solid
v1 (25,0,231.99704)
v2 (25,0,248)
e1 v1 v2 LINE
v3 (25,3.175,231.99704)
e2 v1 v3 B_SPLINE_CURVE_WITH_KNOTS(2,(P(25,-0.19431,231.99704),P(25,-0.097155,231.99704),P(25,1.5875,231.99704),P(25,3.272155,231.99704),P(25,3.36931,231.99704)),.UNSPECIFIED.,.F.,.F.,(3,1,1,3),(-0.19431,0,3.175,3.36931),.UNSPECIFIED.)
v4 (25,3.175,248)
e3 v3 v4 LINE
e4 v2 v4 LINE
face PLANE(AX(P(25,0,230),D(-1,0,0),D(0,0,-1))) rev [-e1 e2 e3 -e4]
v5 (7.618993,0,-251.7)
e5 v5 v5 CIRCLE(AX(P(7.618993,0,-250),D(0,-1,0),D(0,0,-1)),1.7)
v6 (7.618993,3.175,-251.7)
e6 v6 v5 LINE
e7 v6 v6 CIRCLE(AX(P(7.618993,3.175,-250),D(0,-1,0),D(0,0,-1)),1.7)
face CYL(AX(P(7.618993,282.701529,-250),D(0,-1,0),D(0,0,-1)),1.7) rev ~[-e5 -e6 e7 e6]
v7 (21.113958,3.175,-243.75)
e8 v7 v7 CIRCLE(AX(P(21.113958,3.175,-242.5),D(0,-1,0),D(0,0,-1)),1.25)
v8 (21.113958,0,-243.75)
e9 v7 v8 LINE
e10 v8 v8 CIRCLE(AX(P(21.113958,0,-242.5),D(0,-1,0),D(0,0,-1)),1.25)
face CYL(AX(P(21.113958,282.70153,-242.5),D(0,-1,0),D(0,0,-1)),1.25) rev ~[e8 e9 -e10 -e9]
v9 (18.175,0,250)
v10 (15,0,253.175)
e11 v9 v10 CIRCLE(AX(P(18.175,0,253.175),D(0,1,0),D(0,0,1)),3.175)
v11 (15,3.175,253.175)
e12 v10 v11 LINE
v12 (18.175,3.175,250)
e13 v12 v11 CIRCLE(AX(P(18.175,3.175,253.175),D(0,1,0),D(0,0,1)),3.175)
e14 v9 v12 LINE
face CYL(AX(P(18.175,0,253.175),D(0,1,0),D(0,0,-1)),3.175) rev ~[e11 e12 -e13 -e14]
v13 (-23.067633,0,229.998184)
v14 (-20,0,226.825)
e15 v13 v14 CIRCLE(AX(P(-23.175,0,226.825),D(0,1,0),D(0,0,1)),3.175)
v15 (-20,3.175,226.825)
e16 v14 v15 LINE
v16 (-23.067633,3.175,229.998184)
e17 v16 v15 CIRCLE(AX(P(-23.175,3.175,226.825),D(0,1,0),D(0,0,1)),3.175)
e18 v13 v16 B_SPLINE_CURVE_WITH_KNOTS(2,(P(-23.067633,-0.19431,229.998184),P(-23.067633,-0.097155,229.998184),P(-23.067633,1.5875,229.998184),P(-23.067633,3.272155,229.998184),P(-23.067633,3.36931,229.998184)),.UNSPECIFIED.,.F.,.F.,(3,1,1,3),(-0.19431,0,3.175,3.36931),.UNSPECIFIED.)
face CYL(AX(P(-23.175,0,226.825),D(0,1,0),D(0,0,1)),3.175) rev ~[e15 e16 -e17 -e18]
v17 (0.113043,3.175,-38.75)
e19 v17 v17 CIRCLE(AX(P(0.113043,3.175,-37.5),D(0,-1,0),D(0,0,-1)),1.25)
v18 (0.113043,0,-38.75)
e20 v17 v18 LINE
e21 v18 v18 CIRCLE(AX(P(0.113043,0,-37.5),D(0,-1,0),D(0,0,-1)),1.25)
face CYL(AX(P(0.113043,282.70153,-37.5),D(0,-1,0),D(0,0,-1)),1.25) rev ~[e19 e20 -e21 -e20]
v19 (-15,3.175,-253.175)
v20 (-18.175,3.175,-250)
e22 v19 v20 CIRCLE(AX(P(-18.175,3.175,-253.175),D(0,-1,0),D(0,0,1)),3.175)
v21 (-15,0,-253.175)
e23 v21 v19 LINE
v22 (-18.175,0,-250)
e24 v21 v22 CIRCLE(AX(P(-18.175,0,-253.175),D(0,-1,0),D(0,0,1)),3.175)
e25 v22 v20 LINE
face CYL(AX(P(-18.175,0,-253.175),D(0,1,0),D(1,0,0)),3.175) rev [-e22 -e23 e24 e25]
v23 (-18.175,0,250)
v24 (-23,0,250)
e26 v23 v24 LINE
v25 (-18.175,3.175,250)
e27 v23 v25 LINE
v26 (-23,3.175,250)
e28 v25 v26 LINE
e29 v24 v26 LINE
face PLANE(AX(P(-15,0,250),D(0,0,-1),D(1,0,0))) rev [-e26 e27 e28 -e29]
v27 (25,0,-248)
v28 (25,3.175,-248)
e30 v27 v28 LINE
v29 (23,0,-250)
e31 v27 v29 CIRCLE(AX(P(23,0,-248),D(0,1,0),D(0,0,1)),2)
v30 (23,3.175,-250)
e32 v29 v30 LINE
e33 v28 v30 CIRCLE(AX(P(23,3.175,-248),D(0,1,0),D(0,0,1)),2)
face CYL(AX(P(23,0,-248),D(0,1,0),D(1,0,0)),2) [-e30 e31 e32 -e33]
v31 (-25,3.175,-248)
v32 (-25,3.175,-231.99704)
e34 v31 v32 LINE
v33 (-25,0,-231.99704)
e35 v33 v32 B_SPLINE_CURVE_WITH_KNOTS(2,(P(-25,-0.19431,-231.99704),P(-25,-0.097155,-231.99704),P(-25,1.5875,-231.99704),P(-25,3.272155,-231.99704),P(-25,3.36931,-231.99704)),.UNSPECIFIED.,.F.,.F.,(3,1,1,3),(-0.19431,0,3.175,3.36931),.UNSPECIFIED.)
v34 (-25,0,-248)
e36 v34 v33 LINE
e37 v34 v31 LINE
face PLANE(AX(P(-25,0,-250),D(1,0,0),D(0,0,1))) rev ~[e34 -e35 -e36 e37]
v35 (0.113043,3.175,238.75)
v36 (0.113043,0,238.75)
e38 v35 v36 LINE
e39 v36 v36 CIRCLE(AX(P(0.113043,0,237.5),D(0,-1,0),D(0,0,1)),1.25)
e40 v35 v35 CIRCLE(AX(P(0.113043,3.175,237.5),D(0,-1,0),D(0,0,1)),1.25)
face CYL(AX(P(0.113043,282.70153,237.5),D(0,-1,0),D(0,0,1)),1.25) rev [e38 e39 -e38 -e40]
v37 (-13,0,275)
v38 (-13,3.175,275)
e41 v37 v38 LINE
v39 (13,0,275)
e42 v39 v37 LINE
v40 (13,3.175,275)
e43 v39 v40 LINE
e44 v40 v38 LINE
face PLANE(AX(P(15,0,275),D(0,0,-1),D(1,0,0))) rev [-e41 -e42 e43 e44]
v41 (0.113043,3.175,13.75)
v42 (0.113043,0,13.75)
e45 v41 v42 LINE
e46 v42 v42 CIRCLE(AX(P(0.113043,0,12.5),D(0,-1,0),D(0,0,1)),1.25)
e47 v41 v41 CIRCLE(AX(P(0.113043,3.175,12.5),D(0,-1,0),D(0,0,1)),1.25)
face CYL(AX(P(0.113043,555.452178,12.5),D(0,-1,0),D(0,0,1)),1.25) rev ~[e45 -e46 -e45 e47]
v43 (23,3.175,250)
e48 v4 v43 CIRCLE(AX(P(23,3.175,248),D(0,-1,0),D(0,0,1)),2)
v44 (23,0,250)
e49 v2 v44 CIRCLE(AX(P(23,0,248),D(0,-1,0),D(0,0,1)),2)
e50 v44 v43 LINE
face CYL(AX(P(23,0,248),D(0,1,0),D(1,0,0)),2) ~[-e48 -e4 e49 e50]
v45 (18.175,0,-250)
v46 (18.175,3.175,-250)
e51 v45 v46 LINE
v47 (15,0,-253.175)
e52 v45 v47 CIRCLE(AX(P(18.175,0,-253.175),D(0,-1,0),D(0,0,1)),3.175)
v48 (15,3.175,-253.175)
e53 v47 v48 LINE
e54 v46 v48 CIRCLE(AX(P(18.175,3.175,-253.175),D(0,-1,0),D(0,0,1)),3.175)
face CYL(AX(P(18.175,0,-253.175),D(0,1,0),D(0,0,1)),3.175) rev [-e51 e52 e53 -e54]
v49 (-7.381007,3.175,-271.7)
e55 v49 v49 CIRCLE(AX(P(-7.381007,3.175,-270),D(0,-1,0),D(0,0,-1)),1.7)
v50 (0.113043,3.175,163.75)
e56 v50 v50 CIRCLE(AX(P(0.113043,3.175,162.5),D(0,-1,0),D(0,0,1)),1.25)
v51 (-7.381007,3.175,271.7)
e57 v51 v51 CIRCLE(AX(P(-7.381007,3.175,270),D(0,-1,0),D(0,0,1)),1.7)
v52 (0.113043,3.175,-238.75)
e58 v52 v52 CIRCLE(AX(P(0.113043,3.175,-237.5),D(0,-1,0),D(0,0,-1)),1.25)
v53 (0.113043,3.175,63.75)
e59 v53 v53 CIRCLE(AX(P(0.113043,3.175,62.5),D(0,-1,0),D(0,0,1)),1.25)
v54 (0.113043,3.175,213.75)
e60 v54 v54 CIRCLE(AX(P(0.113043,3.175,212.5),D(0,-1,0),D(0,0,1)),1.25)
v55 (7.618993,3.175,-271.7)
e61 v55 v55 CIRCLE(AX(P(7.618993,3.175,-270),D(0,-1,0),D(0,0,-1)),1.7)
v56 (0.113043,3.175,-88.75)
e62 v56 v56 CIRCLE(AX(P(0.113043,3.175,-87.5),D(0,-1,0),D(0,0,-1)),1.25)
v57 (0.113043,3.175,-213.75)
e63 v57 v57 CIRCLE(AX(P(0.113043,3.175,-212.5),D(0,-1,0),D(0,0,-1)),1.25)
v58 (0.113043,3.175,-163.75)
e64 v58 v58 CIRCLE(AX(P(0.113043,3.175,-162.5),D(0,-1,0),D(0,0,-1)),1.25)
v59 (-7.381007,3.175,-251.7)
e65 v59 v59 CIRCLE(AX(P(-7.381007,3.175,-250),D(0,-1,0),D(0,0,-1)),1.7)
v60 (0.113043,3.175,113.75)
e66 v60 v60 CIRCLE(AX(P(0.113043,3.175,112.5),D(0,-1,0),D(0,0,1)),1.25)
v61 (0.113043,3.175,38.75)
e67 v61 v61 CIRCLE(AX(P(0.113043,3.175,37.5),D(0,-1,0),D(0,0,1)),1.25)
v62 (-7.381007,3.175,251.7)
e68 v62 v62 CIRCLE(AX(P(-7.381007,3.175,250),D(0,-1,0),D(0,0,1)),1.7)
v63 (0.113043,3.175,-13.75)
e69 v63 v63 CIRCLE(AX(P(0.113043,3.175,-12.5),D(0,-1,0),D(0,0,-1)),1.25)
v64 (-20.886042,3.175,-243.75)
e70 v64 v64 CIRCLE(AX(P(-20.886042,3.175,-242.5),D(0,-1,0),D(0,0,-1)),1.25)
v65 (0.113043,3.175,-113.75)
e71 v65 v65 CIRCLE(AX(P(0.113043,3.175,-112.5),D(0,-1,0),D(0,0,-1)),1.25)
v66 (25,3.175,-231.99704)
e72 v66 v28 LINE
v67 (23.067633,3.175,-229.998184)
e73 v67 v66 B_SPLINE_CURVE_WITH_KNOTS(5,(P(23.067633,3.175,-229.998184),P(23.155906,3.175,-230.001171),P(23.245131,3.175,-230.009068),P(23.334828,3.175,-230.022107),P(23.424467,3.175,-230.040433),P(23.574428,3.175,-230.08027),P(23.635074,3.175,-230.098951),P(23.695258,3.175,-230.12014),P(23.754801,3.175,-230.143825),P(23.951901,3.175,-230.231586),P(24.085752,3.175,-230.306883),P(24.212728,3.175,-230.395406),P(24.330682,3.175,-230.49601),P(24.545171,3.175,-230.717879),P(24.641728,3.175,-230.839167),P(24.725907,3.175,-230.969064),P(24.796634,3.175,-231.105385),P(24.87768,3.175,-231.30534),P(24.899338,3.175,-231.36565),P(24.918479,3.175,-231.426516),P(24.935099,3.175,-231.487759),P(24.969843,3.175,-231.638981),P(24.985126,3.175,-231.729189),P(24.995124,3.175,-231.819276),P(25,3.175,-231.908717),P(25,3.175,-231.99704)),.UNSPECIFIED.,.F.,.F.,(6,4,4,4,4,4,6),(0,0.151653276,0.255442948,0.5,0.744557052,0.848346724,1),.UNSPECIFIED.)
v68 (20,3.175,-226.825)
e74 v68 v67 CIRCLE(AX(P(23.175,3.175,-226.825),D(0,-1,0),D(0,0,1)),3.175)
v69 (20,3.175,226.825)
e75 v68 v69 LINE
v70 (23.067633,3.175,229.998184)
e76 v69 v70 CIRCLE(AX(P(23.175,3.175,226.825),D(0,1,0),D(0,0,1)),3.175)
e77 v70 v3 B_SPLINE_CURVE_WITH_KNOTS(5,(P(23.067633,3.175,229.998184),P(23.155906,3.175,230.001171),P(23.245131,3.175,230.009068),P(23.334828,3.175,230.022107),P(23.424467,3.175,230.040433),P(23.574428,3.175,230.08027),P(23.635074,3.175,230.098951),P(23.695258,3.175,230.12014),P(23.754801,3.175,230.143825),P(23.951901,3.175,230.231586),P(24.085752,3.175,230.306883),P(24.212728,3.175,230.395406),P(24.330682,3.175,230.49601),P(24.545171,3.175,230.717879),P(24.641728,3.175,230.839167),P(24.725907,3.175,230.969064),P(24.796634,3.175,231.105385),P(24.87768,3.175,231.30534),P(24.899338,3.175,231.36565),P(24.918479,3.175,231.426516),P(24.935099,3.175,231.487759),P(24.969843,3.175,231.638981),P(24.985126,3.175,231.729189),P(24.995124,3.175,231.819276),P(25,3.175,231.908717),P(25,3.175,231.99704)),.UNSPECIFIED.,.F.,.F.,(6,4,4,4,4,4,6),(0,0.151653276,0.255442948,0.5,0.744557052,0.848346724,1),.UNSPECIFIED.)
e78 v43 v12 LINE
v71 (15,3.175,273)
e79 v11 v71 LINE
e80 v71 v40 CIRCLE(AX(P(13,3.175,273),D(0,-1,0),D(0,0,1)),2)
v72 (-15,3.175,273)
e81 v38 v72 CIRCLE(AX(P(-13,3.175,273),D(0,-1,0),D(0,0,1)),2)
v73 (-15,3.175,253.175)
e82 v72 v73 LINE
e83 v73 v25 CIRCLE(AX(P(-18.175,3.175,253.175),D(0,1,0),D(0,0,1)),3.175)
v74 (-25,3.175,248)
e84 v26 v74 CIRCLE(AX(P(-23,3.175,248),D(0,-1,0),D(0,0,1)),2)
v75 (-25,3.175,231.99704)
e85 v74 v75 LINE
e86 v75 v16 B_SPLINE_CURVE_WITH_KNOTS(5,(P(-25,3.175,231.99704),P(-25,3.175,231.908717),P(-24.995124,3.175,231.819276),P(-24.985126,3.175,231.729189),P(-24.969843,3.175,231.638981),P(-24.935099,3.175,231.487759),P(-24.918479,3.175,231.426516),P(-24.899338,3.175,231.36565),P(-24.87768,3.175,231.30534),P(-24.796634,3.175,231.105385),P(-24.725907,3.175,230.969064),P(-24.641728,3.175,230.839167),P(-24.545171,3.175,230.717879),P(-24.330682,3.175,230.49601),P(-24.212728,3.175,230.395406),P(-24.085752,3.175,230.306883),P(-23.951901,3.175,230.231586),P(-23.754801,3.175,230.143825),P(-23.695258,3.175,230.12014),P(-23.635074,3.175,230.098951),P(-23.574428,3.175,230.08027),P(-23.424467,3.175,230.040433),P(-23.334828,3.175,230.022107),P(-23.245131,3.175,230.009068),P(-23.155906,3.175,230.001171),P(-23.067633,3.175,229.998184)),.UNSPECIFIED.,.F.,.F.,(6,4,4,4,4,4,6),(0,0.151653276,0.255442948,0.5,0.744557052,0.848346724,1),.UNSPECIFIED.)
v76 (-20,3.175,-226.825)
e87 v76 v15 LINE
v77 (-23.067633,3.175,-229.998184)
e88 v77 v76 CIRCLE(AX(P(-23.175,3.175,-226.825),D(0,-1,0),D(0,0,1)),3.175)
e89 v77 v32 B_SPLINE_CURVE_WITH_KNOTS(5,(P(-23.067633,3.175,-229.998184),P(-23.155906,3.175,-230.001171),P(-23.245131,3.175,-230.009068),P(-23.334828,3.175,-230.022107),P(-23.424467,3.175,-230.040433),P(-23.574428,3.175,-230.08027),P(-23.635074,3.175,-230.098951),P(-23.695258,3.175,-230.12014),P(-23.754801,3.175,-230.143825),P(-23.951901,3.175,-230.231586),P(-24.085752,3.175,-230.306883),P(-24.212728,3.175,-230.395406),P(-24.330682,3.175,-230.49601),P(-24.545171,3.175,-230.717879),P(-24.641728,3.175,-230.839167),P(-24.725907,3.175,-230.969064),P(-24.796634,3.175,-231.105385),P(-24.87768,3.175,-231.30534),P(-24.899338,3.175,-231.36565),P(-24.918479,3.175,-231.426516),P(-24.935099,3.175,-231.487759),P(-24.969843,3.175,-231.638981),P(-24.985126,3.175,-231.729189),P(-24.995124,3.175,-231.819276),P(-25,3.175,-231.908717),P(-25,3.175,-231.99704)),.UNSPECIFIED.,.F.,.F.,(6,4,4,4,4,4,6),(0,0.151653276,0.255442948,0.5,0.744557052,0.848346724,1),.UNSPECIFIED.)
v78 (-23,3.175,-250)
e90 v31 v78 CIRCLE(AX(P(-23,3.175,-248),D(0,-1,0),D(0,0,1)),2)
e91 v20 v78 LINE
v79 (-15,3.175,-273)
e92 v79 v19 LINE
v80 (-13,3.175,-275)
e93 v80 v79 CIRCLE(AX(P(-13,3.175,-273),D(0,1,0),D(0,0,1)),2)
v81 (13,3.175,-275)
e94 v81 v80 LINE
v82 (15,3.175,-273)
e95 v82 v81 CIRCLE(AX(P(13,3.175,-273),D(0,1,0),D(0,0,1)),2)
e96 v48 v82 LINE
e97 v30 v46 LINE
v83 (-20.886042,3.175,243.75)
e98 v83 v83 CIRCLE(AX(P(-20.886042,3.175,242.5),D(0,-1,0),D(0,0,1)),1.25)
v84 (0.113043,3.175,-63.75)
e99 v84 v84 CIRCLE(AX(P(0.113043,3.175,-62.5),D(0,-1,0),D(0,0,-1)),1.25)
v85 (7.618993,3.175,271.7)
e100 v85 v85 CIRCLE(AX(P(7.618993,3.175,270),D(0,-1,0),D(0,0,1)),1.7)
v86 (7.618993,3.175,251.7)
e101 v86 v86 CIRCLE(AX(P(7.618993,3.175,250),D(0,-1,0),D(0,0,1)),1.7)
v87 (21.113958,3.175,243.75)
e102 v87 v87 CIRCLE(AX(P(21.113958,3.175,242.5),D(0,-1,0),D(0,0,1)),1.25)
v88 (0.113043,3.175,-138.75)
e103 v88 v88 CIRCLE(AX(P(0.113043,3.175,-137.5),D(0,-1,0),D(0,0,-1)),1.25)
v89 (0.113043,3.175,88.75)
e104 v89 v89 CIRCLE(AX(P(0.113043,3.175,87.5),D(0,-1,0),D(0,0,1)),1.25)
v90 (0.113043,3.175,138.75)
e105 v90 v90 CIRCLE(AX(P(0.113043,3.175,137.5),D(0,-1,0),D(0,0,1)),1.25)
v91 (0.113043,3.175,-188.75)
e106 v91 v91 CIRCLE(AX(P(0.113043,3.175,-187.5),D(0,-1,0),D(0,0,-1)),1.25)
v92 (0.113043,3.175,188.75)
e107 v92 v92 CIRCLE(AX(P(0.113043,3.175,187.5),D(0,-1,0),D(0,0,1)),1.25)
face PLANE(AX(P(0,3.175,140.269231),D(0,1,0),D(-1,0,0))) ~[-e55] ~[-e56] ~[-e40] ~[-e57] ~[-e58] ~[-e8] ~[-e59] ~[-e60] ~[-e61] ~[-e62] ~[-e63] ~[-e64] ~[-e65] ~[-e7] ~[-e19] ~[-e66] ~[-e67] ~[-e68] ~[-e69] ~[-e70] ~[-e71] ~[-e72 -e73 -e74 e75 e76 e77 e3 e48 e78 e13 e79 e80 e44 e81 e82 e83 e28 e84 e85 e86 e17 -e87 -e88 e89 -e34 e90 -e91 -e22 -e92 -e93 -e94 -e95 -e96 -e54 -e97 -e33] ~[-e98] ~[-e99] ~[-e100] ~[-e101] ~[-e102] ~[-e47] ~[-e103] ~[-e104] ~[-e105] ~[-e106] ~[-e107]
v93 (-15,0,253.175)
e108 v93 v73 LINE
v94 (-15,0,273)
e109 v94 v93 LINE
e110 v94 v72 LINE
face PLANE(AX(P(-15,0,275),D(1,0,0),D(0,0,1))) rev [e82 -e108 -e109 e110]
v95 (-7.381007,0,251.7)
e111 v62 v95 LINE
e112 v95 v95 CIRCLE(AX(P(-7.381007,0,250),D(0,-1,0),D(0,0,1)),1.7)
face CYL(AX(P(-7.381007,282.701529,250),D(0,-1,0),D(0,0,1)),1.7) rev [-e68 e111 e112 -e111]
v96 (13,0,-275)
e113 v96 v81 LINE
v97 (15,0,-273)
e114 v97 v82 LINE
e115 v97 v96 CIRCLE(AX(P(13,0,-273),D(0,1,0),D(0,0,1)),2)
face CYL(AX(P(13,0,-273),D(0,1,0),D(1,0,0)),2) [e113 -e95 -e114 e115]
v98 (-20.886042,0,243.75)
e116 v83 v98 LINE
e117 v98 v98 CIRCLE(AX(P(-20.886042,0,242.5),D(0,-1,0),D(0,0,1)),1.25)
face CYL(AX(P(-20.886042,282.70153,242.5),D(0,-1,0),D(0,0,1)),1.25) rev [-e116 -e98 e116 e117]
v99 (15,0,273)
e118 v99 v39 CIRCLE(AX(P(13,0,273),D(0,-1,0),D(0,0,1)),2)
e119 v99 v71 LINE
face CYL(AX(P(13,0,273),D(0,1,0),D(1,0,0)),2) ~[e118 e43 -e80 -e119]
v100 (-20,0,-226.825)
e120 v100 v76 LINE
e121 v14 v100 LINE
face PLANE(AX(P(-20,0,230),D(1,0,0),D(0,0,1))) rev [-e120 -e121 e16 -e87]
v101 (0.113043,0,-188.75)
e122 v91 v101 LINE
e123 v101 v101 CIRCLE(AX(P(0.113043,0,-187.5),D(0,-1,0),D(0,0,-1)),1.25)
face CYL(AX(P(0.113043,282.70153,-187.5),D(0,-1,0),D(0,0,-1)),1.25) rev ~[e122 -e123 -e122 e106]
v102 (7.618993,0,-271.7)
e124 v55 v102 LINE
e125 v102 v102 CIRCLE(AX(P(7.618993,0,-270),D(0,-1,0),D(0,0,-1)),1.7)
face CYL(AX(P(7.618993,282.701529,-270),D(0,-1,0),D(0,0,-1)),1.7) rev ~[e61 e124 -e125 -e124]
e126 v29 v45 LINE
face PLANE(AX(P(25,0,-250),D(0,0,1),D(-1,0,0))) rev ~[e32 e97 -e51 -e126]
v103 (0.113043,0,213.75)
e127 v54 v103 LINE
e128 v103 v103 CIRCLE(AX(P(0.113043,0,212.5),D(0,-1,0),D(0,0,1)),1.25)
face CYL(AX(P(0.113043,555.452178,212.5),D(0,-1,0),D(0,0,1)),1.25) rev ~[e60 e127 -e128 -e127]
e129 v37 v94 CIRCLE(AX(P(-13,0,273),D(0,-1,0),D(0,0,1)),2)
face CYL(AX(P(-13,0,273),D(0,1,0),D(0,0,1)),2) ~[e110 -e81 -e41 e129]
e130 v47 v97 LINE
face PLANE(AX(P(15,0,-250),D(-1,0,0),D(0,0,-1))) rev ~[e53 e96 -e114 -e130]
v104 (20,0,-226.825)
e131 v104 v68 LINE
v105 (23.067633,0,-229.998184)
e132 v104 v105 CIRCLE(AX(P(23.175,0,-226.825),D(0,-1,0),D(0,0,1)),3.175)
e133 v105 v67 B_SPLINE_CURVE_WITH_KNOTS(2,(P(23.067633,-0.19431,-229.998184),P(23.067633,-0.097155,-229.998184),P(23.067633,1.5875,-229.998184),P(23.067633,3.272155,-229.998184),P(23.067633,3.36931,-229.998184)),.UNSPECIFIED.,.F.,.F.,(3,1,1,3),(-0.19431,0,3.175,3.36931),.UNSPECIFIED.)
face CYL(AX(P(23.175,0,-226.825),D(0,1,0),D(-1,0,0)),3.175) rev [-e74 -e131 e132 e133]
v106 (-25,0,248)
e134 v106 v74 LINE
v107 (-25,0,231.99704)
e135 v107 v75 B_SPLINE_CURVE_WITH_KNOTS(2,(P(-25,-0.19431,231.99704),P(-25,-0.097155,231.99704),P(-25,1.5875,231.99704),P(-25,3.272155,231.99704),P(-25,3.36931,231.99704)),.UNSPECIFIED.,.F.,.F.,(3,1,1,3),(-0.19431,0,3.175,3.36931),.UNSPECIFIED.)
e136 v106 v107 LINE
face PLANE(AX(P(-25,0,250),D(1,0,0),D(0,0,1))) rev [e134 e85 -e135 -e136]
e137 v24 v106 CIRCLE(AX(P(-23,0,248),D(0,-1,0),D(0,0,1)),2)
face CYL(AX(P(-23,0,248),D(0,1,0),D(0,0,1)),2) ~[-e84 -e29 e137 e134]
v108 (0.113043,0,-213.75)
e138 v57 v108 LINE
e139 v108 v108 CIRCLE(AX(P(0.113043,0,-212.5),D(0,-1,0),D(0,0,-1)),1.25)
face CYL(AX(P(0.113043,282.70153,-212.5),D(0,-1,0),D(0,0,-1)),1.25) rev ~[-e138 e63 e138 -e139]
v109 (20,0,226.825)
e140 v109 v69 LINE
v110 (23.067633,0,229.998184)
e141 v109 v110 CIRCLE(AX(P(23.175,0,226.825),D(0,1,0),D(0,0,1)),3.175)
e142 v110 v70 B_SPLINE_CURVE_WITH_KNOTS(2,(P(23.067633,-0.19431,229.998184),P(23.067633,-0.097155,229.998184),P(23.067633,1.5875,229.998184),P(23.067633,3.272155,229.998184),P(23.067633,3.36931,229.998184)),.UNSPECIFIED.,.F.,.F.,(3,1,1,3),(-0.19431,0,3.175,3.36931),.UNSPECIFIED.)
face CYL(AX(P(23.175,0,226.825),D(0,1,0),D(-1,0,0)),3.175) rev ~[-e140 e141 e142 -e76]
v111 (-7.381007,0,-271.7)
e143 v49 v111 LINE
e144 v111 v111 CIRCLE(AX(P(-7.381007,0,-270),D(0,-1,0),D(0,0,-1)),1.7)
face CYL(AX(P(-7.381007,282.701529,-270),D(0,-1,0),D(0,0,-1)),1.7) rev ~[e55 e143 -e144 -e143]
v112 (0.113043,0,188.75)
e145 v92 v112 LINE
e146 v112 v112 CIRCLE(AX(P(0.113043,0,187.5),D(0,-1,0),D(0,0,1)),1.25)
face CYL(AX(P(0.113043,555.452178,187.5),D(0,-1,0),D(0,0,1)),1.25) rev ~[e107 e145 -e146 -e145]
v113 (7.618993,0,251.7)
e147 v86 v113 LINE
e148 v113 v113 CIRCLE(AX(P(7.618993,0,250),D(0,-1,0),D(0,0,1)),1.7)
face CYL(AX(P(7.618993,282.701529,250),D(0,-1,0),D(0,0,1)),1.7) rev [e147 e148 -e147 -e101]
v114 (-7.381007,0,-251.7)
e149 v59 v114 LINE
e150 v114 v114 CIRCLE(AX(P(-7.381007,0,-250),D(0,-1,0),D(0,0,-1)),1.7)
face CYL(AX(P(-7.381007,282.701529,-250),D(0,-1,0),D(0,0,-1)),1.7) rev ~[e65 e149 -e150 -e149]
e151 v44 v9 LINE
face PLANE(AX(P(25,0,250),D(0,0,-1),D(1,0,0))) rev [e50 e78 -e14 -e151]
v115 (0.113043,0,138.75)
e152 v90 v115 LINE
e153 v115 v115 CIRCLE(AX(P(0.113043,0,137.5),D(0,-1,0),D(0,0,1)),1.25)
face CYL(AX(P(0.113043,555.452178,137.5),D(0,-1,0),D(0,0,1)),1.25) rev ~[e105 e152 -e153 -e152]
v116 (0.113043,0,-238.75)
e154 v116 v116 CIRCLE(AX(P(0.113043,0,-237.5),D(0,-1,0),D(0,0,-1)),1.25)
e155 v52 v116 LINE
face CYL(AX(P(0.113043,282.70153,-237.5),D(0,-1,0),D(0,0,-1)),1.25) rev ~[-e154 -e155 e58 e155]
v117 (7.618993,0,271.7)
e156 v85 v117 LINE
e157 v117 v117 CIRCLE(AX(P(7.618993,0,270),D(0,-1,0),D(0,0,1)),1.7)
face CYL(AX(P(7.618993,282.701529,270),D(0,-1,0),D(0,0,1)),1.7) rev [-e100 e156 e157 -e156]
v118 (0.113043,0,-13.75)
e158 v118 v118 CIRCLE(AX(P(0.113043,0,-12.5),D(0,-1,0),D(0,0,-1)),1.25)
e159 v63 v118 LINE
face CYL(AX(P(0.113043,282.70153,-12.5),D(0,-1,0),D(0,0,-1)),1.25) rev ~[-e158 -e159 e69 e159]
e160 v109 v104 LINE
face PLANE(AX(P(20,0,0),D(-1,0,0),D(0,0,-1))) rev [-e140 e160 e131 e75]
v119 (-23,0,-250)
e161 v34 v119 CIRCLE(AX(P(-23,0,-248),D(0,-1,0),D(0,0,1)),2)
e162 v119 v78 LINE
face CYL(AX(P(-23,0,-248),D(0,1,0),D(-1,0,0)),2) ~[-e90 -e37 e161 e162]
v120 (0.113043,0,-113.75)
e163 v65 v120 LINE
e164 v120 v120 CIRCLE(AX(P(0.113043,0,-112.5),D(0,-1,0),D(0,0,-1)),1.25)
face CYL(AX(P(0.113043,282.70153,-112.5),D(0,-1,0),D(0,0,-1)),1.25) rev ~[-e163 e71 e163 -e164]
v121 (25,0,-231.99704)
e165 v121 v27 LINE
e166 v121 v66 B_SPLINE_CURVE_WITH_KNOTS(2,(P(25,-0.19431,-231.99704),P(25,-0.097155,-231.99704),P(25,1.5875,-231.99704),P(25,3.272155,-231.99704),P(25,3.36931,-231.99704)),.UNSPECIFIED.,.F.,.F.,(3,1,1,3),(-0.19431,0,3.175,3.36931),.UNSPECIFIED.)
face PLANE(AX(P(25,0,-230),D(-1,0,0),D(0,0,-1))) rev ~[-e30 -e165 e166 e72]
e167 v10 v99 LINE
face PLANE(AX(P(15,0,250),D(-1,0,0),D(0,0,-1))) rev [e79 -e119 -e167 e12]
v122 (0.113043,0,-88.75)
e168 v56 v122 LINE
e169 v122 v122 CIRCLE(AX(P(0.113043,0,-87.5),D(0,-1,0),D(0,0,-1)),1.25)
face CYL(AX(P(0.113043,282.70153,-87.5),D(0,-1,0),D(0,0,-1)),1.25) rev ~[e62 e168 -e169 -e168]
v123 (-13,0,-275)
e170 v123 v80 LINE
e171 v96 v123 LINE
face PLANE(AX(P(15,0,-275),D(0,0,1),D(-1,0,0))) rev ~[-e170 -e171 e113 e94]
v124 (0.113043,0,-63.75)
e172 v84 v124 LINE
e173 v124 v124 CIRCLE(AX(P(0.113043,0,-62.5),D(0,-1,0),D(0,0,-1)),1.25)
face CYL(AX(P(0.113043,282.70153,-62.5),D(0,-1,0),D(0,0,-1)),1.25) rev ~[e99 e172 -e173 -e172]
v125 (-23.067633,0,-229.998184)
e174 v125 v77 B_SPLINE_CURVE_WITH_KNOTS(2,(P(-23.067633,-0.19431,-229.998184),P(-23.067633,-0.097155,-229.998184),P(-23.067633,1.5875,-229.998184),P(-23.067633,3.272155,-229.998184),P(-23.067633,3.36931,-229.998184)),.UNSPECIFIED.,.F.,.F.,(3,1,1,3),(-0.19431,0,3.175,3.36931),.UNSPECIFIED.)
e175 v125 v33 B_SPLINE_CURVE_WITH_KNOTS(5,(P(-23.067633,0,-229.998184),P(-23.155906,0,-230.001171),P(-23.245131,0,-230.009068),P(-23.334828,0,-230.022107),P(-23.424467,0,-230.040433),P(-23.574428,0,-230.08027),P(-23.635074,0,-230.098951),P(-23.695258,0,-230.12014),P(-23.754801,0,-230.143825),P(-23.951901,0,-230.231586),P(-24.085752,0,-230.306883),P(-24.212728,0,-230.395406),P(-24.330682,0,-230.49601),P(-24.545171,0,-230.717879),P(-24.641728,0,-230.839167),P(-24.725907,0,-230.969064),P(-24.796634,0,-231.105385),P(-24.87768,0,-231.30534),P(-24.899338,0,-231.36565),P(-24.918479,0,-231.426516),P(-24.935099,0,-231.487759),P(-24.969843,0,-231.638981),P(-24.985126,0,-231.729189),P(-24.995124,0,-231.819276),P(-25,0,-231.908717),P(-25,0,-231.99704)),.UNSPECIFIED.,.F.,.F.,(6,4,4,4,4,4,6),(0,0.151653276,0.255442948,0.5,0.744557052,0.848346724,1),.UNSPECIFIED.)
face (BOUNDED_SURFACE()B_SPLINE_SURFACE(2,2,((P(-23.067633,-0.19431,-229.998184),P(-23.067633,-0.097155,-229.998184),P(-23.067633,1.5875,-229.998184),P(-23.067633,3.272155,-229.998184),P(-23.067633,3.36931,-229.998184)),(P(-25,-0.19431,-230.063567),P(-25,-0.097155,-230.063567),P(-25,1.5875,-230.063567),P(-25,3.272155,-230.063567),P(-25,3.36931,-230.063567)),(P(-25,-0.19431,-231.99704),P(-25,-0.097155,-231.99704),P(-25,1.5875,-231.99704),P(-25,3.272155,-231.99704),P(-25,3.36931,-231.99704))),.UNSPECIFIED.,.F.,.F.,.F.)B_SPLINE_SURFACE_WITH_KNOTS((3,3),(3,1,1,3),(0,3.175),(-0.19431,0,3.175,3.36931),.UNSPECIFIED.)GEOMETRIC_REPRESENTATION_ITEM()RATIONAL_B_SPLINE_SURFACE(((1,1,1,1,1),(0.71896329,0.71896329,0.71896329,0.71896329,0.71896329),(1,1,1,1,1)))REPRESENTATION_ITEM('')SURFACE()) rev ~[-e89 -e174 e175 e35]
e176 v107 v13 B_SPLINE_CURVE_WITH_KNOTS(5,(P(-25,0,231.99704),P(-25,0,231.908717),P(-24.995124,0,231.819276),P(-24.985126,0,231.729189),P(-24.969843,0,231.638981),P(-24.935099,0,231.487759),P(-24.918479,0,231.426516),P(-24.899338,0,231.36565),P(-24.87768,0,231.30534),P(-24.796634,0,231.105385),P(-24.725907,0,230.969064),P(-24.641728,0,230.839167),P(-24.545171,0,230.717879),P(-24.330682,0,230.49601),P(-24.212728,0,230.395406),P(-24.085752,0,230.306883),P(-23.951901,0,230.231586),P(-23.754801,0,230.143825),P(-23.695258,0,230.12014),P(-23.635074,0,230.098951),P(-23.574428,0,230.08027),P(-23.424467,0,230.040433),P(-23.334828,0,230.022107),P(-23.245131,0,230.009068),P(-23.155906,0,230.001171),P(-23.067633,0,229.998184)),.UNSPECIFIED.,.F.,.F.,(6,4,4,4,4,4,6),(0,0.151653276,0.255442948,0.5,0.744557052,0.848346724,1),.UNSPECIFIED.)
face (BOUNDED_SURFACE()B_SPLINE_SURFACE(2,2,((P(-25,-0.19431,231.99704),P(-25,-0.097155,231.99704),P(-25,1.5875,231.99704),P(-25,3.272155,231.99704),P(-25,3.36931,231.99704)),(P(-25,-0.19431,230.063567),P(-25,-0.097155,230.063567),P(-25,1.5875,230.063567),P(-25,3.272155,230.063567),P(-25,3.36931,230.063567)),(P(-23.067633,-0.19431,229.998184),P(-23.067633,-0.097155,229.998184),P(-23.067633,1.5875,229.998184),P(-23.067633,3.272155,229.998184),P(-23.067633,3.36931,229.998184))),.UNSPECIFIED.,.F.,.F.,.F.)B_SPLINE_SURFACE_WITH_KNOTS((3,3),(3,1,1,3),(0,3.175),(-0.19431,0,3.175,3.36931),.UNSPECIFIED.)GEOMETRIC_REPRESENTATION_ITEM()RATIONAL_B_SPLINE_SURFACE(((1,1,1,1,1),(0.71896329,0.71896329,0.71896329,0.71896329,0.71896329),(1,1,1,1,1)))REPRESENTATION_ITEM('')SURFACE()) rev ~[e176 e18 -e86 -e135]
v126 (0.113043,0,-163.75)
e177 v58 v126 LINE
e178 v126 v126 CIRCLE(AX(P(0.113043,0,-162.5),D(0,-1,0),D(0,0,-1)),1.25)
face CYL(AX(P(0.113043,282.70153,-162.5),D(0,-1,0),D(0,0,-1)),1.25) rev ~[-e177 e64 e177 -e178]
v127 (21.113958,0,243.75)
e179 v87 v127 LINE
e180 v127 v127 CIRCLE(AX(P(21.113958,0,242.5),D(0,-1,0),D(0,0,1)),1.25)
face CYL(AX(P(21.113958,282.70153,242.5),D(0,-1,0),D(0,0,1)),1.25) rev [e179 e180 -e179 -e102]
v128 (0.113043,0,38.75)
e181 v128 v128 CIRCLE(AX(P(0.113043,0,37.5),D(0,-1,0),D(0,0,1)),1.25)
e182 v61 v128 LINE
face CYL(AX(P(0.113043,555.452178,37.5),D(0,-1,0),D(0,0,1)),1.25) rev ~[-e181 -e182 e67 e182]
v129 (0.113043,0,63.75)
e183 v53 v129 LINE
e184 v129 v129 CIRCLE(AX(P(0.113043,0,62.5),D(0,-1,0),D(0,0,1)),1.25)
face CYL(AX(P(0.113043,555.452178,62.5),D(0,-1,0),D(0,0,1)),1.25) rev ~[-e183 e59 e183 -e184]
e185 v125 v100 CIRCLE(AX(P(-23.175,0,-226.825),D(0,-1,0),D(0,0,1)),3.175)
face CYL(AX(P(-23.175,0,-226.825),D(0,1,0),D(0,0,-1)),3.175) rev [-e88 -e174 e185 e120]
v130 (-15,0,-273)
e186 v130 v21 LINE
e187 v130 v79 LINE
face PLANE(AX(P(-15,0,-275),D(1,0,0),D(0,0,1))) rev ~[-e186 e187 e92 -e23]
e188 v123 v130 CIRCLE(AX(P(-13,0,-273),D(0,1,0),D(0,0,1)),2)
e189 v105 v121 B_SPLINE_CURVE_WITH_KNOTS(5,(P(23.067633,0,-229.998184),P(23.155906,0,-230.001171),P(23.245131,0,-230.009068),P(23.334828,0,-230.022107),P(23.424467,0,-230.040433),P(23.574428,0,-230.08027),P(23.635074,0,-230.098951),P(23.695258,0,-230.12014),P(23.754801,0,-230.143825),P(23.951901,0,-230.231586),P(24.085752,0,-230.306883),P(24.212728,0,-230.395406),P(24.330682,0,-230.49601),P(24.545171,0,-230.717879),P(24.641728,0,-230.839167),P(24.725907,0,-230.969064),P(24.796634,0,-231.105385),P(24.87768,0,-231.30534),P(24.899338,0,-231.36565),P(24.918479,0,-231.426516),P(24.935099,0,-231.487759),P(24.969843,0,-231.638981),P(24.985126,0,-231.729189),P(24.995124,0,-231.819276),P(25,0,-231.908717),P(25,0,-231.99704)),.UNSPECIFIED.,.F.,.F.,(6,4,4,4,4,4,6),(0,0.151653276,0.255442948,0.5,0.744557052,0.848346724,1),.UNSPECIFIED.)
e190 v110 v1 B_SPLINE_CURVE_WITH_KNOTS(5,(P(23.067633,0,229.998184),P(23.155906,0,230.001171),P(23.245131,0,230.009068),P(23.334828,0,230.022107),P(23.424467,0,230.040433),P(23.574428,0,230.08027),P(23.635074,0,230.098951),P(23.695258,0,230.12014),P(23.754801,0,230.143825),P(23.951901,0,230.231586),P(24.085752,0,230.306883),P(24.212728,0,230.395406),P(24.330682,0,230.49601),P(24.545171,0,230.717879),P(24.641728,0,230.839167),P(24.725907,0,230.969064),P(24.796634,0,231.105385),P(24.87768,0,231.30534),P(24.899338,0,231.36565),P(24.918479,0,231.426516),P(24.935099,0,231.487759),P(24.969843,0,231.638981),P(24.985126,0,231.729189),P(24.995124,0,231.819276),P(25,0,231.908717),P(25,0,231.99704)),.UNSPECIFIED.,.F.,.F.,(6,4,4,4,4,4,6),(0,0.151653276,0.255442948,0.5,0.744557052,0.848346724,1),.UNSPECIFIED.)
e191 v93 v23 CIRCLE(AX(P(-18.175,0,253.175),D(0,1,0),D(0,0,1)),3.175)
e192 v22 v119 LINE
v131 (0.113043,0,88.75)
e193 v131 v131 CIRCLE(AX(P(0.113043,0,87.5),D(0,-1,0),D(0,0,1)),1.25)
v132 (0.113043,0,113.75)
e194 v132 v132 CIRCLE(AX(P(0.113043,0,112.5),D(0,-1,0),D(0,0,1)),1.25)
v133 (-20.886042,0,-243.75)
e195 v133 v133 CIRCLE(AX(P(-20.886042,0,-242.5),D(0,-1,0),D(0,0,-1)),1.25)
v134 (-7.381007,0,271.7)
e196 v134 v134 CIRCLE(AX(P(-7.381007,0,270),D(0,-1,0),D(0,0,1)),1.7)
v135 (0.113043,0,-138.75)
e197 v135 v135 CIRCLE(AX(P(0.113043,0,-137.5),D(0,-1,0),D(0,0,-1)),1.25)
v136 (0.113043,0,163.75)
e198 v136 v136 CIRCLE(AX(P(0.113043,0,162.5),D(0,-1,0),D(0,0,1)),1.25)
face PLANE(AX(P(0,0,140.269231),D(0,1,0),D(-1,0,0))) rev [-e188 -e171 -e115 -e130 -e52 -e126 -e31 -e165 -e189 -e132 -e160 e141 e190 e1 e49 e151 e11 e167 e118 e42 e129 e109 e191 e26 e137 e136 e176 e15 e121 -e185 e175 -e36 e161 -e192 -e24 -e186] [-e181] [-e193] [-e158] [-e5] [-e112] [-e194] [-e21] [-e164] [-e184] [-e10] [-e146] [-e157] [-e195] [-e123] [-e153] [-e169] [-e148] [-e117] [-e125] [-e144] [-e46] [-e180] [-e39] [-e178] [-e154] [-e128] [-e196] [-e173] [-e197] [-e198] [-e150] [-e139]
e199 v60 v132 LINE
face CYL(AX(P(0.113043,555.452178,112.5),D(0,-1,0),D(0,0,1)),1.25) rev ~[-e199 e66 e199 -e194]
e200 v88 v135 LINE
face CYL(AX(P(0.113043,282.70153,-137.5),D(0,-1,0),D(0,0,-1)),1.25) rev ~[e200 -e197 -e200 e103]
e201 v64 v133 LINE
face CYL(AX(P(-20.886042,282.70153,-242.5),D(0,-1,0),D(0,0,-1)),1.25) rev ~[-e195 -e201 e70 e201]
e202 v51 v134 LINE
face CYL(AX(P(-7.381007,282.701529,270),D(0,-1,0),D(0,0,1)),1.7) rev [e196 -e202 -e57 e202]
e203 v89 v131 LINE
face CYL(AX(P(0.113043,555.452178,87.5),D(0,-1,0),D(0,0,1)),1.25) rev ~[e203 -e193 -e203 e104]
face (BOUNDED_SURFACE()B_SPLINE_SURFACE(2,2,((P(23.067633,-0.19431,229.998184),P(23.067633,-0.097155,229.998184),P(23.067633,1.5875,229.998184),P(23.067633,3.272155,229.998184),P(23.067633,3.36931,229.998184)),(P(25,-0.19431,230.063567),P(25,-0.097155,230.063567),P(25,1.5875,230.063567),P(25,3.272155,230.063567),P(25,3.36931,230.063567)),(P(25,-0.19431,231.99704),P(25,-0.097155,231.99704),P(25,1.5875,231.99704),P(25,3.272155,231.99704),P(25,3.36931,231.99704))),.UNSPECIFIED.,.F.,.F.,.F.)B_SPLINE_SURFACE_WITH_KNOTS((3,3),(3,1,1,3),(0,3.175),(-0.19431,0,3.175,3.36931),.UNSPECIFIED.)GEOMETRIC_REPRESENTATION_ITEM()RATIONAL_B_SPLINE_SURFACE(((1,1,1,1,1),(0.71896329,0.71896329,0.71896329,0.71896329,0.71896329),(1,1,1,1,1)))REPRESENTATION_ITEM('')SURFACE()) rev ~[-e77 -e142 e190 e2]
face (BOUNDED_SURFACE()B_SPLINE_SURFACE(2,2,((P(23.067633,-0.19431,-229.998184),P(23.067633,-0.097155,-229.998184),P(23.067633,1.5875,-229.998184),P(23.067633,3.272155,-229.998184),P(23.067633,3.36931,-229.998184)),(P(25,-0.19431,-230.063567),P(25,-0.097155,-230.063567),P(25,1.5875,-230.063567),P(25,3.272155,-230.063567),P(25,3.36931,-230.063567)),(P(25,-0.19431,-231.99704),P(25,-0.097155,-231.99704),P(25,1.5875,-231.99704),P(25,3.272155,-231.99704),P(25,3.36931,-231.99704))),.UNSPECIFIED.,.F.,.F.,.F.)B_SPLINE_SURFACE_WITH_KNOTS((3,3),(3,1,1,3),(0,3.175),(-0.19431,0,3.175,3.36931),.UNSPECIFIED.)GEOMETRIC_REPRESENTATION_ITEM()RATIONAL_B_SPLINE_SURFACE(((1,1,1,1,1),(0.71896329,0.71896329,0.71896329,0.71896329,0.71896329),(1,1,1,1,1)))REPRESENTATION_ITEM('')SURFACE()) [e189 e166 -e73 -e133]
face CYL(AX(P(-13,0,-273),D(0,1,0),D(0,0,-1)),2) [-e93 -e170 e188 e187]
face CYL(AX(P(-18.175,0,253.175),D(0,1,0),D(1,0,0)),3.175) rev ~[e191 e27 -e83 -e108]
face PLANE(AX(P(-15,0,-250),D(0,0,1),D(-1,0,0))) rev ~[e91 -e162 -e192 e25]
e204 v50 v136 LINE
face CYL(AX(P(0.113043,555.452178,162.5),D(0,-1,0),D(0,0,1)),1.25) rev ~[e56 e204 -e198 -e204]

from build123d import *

# Parameters (mm, degrees)
BOSS_EXTRUDE1_DEPTH         = 3.175
FILLET1_R                   = 3.175
M3_CLEARANCE_HOLE1_D        = 3.4
FILLET2_R                   = 2
TAP_DRILL_FOR_M3X0_5_TAP1_D = 2.5
LPATTERN1_COUNT             = 10
LPATTERN1_PITCH             = 25
TAP_DRILL_FOR_M3X0_5_TAP2_D = 2.5
MIRROR1_COPY_1_D            = 2.5
MIRROR1_COPY_2_D            = 2.5
MIRROR1_COPY_3_D            = 2.5
MIRROR1_COPY_4_D            = 2.5
MIRROR1_COPY_5_D            = 2.5
MIRROR1_COPY_6_D            = 2.5
MIRROR1_COPY_7_D            = 2.5
MIRROR1_COPY_8_D            = 2.5
MIRROR1_COPY_9_D            = 2.5
FILLET1_OF_MIRROR1_R        = 3.175
FILLET2_OF_MIRROR1_R        = 2


with BuildPart() as part:
    # Sketch2 → Boss-Extrude1 (new body)
    with BuildSketch(Plane(origin=(0, 0, 0), x_dir=(1, 0, 0), z_dir=(0, 1, 0))):
        Polygon((-20, 0), (20, 0), (20, 230), (25, 230), (25, 250), (15, 250), (15, 275), (-15, 275), (-15, 250), (-25, 250), (-25, 230), (-20, 230), align=None)
    boss_extrude1 = extrude(amount=BOSS_EXTRUDE1_DEPTH)

    # Fillet1
    fillet1_edges = [part.edges().sort_by_distance(p)[0] for p in [
        (-20, 1.5875, -230),
        (-15, 1.5875, -250),
        (15, 1.5875, -250),
        (20, 1.5875, -230),
    ]]
    fillet(fillet1_edges, radius=FILLET1_R)

    # M3 Clearance Hole1 (through all)
    with Locations(Plane(origin=(-7.381007447, 3.175, -270), x_dir=(0, 0, 1), z_dir=(0, 1, 0))):
        with Locations((0, 0), (20, 0), (0, 15), (20, 15)):
            m3_clearance_hole1 = Hole(M3_CLEARANCE_HOLE1_D / 2)

    # Fillet2
    fillet2_edges = [part.edges().sort_by_distance(p)[0] for p in [
        (-25, 1.5875, -250),
        (15, 1.5875, -275),
        (-15, 1.5875, -275),
        (-25, 1.5875, -230),
        (25, 1.5875, -230),
        (25, 1.5875, -250),
    ]]
    fillet(fillet2_edges, radius=FILLET2_R)

    # Tap Drill for M3x0.5 Tap1 (through all)
    with Locations(Plane(origin=(0.113042925, 3.175, -237.5), x_dir=(0, 0, 1), z_dir=(0, 1, 0))):
        with Locations((0, 0)):
            tap_drill_for_m3x0_5_tap1 = Hole(TAP_DRILL_FOR_M3X0_5_TAP1_D / 2)

    # LPattern1: Tap Drill for M3x0.5 Tap1 ×10
    with Locations(*[(0, 0, i * LPATTERN1_PITCH) for i in range(1, LPATTERN1_COUNT)]):
        add(tap_drill_for_m3x0_5_tap1, mode=Mode.SUBTRACT)

    # Tap Drill for M3x0.5 Tap2 (through all)
    with Locations(Plane(origin=(-20.886041747, 3.175, -242.5), x_dir=(0, 0, 1), z_dir=(0, 1, 0))):
        with Locations((0, 0), (0, 42)):
            tap_drill_for_m3x0_5_tap2 = Hole(TAP_DRILL_FOR_M3X0_5_TAP2_D / 2)

    # Mirror1: Boss-Extrude1, M3 Clearance Hole1, Tap Drill for M3x0.5 Tap1, Tap Drill for M3x0.5 Tap2 across plane
    add(boss_extrude1.mirror(Plane.XY))
    add(m3_clearance_hole1.mirror(Plane.XY), mode=Mode.SUBTRACT)
    add(tap_drill_for_m3x0_5_tap1.mirror(Plane.XY), mode=Mode.SUBTRACT)
    add(tap_drill_for_m3x0_5_tap2.mirror(Plane.XY), mode=Mode.SUBTRACT)

    # Mirror1 copy 1 (through all)
    with Locations(Plane(origin=(0.113042925, 3.175, 212.5), x_dir=(0, 0, -1), z_dir=(0, 1, 0))):
        with Locations((0, 0)):
            Hole(MIRROR1_COPY_1_D / 2)

    # Mirror1 copy 2 (through all)
    with Locations(Plane(origin=(0.113042925, 3.175, 187.5), x_dir=(0, 0, -1), z_dir=(0, 1, 0))):
        with Locations((0, 0)):
            Hole(MIRROR1_COPY_2_D / 2)

    # Mirror1 copy 3 (through all)
    with Locations(Plane(origin=(0.113042925, 3.175, 162.5), x_dir=(0, 0, -1), z_dir=(0, 1, 0))):
        with Locations((0, 0)):
            Hole(MIRROR1_COPY_3_D / 2)

    # Mirror1 copy 4 (through all)
    with Locations(Plane(origin=(0.113042925, 3.175, 137.5), x_dir=(0, 0, -1), z_dir=(0, 1, 0))):
        with Locations((0, 0)):
            Hole(MIRROR1_COPY_4_D / 2)

    # Mirror1 copy 5 (through all)
    with Locations(Plane(origin=(0.113042925, 3.175, 112.5), x_dir=(0, 0, -1), z_dir=(0, 1, 0))):
        with Locations((0, 0)):
            Hole(MIRROR1_COPY_5_D / 2)

    # Mirror1 copy 6 (through all)
    with Locations(Plane(origin=(0.113042925, 3.175, 87.5), x_dir=(0, 0, -1), z_dir=(0, 1, 0))):
        with Locations((0, 0)):
            Hole(MIRROR1_COPY_6_D / 2)

    # Mirror1 copy 7 (through all)
    with Locations(Plane(origin=(0.113042925, 3.175, 62.5), x_dir=(0, 0, -1), z_dir=(0, 1, 0))):
        with Locations((0, 0)):
            Hole(MIRROR1_COPY_7_D / 2)

    # Mirror1 copy 8 (through all)
    with Locations(Plane(origin=(0.113042925, 3.175, 37.5), x_dir=(0, 0, -1), z_dir=(0, 1, 0))):
        with Locations((0, 0)):
            Hole(MIRROR1_COPY_8_D / 2)

    # Mirror1 copy 9 (through all)
    with Locations(Plane(origin=(0.113042925, 3.175, 12.5), x_dir=(0, 0, -1), z_dir=(0, 1, 0))):
        with Locations((0, 0)):
            Hole(MIRROR1_COPY_9_D / 2)

    # Fillet1 of Mirror1
    fillet1_of_mirror1_edges = [part.edges().sort_by_distance(p)[0] for p in [
        (-20, 1.5875, 230),
        (-15, 1.5875, 250),
        (15, 1.5875, 250),
        (20, 1.5875, 230),
    ]]
    fillet(fillet1_of_mirror1_edges, radius=FILLET1_OF_MIRROR1_R)

    # Fillet2 of Mirror1
    fillet2_of_mirror1_edges = [part.edges().sort_by_distance(p)[0] for p in [
        (-25, 1.5875, 250),
        (15, 1.5875, 275),
        (-15, 1.5875, 275),
        (-25, 1.5875, 230),
        (25, 1.5875, 230),
        (25, 1.5875, 250),
    ]]
    fillet(fillet2_of_mirror1_edges, radius=FILLET2_OF_MIRROR1_R)


solid = part.part
